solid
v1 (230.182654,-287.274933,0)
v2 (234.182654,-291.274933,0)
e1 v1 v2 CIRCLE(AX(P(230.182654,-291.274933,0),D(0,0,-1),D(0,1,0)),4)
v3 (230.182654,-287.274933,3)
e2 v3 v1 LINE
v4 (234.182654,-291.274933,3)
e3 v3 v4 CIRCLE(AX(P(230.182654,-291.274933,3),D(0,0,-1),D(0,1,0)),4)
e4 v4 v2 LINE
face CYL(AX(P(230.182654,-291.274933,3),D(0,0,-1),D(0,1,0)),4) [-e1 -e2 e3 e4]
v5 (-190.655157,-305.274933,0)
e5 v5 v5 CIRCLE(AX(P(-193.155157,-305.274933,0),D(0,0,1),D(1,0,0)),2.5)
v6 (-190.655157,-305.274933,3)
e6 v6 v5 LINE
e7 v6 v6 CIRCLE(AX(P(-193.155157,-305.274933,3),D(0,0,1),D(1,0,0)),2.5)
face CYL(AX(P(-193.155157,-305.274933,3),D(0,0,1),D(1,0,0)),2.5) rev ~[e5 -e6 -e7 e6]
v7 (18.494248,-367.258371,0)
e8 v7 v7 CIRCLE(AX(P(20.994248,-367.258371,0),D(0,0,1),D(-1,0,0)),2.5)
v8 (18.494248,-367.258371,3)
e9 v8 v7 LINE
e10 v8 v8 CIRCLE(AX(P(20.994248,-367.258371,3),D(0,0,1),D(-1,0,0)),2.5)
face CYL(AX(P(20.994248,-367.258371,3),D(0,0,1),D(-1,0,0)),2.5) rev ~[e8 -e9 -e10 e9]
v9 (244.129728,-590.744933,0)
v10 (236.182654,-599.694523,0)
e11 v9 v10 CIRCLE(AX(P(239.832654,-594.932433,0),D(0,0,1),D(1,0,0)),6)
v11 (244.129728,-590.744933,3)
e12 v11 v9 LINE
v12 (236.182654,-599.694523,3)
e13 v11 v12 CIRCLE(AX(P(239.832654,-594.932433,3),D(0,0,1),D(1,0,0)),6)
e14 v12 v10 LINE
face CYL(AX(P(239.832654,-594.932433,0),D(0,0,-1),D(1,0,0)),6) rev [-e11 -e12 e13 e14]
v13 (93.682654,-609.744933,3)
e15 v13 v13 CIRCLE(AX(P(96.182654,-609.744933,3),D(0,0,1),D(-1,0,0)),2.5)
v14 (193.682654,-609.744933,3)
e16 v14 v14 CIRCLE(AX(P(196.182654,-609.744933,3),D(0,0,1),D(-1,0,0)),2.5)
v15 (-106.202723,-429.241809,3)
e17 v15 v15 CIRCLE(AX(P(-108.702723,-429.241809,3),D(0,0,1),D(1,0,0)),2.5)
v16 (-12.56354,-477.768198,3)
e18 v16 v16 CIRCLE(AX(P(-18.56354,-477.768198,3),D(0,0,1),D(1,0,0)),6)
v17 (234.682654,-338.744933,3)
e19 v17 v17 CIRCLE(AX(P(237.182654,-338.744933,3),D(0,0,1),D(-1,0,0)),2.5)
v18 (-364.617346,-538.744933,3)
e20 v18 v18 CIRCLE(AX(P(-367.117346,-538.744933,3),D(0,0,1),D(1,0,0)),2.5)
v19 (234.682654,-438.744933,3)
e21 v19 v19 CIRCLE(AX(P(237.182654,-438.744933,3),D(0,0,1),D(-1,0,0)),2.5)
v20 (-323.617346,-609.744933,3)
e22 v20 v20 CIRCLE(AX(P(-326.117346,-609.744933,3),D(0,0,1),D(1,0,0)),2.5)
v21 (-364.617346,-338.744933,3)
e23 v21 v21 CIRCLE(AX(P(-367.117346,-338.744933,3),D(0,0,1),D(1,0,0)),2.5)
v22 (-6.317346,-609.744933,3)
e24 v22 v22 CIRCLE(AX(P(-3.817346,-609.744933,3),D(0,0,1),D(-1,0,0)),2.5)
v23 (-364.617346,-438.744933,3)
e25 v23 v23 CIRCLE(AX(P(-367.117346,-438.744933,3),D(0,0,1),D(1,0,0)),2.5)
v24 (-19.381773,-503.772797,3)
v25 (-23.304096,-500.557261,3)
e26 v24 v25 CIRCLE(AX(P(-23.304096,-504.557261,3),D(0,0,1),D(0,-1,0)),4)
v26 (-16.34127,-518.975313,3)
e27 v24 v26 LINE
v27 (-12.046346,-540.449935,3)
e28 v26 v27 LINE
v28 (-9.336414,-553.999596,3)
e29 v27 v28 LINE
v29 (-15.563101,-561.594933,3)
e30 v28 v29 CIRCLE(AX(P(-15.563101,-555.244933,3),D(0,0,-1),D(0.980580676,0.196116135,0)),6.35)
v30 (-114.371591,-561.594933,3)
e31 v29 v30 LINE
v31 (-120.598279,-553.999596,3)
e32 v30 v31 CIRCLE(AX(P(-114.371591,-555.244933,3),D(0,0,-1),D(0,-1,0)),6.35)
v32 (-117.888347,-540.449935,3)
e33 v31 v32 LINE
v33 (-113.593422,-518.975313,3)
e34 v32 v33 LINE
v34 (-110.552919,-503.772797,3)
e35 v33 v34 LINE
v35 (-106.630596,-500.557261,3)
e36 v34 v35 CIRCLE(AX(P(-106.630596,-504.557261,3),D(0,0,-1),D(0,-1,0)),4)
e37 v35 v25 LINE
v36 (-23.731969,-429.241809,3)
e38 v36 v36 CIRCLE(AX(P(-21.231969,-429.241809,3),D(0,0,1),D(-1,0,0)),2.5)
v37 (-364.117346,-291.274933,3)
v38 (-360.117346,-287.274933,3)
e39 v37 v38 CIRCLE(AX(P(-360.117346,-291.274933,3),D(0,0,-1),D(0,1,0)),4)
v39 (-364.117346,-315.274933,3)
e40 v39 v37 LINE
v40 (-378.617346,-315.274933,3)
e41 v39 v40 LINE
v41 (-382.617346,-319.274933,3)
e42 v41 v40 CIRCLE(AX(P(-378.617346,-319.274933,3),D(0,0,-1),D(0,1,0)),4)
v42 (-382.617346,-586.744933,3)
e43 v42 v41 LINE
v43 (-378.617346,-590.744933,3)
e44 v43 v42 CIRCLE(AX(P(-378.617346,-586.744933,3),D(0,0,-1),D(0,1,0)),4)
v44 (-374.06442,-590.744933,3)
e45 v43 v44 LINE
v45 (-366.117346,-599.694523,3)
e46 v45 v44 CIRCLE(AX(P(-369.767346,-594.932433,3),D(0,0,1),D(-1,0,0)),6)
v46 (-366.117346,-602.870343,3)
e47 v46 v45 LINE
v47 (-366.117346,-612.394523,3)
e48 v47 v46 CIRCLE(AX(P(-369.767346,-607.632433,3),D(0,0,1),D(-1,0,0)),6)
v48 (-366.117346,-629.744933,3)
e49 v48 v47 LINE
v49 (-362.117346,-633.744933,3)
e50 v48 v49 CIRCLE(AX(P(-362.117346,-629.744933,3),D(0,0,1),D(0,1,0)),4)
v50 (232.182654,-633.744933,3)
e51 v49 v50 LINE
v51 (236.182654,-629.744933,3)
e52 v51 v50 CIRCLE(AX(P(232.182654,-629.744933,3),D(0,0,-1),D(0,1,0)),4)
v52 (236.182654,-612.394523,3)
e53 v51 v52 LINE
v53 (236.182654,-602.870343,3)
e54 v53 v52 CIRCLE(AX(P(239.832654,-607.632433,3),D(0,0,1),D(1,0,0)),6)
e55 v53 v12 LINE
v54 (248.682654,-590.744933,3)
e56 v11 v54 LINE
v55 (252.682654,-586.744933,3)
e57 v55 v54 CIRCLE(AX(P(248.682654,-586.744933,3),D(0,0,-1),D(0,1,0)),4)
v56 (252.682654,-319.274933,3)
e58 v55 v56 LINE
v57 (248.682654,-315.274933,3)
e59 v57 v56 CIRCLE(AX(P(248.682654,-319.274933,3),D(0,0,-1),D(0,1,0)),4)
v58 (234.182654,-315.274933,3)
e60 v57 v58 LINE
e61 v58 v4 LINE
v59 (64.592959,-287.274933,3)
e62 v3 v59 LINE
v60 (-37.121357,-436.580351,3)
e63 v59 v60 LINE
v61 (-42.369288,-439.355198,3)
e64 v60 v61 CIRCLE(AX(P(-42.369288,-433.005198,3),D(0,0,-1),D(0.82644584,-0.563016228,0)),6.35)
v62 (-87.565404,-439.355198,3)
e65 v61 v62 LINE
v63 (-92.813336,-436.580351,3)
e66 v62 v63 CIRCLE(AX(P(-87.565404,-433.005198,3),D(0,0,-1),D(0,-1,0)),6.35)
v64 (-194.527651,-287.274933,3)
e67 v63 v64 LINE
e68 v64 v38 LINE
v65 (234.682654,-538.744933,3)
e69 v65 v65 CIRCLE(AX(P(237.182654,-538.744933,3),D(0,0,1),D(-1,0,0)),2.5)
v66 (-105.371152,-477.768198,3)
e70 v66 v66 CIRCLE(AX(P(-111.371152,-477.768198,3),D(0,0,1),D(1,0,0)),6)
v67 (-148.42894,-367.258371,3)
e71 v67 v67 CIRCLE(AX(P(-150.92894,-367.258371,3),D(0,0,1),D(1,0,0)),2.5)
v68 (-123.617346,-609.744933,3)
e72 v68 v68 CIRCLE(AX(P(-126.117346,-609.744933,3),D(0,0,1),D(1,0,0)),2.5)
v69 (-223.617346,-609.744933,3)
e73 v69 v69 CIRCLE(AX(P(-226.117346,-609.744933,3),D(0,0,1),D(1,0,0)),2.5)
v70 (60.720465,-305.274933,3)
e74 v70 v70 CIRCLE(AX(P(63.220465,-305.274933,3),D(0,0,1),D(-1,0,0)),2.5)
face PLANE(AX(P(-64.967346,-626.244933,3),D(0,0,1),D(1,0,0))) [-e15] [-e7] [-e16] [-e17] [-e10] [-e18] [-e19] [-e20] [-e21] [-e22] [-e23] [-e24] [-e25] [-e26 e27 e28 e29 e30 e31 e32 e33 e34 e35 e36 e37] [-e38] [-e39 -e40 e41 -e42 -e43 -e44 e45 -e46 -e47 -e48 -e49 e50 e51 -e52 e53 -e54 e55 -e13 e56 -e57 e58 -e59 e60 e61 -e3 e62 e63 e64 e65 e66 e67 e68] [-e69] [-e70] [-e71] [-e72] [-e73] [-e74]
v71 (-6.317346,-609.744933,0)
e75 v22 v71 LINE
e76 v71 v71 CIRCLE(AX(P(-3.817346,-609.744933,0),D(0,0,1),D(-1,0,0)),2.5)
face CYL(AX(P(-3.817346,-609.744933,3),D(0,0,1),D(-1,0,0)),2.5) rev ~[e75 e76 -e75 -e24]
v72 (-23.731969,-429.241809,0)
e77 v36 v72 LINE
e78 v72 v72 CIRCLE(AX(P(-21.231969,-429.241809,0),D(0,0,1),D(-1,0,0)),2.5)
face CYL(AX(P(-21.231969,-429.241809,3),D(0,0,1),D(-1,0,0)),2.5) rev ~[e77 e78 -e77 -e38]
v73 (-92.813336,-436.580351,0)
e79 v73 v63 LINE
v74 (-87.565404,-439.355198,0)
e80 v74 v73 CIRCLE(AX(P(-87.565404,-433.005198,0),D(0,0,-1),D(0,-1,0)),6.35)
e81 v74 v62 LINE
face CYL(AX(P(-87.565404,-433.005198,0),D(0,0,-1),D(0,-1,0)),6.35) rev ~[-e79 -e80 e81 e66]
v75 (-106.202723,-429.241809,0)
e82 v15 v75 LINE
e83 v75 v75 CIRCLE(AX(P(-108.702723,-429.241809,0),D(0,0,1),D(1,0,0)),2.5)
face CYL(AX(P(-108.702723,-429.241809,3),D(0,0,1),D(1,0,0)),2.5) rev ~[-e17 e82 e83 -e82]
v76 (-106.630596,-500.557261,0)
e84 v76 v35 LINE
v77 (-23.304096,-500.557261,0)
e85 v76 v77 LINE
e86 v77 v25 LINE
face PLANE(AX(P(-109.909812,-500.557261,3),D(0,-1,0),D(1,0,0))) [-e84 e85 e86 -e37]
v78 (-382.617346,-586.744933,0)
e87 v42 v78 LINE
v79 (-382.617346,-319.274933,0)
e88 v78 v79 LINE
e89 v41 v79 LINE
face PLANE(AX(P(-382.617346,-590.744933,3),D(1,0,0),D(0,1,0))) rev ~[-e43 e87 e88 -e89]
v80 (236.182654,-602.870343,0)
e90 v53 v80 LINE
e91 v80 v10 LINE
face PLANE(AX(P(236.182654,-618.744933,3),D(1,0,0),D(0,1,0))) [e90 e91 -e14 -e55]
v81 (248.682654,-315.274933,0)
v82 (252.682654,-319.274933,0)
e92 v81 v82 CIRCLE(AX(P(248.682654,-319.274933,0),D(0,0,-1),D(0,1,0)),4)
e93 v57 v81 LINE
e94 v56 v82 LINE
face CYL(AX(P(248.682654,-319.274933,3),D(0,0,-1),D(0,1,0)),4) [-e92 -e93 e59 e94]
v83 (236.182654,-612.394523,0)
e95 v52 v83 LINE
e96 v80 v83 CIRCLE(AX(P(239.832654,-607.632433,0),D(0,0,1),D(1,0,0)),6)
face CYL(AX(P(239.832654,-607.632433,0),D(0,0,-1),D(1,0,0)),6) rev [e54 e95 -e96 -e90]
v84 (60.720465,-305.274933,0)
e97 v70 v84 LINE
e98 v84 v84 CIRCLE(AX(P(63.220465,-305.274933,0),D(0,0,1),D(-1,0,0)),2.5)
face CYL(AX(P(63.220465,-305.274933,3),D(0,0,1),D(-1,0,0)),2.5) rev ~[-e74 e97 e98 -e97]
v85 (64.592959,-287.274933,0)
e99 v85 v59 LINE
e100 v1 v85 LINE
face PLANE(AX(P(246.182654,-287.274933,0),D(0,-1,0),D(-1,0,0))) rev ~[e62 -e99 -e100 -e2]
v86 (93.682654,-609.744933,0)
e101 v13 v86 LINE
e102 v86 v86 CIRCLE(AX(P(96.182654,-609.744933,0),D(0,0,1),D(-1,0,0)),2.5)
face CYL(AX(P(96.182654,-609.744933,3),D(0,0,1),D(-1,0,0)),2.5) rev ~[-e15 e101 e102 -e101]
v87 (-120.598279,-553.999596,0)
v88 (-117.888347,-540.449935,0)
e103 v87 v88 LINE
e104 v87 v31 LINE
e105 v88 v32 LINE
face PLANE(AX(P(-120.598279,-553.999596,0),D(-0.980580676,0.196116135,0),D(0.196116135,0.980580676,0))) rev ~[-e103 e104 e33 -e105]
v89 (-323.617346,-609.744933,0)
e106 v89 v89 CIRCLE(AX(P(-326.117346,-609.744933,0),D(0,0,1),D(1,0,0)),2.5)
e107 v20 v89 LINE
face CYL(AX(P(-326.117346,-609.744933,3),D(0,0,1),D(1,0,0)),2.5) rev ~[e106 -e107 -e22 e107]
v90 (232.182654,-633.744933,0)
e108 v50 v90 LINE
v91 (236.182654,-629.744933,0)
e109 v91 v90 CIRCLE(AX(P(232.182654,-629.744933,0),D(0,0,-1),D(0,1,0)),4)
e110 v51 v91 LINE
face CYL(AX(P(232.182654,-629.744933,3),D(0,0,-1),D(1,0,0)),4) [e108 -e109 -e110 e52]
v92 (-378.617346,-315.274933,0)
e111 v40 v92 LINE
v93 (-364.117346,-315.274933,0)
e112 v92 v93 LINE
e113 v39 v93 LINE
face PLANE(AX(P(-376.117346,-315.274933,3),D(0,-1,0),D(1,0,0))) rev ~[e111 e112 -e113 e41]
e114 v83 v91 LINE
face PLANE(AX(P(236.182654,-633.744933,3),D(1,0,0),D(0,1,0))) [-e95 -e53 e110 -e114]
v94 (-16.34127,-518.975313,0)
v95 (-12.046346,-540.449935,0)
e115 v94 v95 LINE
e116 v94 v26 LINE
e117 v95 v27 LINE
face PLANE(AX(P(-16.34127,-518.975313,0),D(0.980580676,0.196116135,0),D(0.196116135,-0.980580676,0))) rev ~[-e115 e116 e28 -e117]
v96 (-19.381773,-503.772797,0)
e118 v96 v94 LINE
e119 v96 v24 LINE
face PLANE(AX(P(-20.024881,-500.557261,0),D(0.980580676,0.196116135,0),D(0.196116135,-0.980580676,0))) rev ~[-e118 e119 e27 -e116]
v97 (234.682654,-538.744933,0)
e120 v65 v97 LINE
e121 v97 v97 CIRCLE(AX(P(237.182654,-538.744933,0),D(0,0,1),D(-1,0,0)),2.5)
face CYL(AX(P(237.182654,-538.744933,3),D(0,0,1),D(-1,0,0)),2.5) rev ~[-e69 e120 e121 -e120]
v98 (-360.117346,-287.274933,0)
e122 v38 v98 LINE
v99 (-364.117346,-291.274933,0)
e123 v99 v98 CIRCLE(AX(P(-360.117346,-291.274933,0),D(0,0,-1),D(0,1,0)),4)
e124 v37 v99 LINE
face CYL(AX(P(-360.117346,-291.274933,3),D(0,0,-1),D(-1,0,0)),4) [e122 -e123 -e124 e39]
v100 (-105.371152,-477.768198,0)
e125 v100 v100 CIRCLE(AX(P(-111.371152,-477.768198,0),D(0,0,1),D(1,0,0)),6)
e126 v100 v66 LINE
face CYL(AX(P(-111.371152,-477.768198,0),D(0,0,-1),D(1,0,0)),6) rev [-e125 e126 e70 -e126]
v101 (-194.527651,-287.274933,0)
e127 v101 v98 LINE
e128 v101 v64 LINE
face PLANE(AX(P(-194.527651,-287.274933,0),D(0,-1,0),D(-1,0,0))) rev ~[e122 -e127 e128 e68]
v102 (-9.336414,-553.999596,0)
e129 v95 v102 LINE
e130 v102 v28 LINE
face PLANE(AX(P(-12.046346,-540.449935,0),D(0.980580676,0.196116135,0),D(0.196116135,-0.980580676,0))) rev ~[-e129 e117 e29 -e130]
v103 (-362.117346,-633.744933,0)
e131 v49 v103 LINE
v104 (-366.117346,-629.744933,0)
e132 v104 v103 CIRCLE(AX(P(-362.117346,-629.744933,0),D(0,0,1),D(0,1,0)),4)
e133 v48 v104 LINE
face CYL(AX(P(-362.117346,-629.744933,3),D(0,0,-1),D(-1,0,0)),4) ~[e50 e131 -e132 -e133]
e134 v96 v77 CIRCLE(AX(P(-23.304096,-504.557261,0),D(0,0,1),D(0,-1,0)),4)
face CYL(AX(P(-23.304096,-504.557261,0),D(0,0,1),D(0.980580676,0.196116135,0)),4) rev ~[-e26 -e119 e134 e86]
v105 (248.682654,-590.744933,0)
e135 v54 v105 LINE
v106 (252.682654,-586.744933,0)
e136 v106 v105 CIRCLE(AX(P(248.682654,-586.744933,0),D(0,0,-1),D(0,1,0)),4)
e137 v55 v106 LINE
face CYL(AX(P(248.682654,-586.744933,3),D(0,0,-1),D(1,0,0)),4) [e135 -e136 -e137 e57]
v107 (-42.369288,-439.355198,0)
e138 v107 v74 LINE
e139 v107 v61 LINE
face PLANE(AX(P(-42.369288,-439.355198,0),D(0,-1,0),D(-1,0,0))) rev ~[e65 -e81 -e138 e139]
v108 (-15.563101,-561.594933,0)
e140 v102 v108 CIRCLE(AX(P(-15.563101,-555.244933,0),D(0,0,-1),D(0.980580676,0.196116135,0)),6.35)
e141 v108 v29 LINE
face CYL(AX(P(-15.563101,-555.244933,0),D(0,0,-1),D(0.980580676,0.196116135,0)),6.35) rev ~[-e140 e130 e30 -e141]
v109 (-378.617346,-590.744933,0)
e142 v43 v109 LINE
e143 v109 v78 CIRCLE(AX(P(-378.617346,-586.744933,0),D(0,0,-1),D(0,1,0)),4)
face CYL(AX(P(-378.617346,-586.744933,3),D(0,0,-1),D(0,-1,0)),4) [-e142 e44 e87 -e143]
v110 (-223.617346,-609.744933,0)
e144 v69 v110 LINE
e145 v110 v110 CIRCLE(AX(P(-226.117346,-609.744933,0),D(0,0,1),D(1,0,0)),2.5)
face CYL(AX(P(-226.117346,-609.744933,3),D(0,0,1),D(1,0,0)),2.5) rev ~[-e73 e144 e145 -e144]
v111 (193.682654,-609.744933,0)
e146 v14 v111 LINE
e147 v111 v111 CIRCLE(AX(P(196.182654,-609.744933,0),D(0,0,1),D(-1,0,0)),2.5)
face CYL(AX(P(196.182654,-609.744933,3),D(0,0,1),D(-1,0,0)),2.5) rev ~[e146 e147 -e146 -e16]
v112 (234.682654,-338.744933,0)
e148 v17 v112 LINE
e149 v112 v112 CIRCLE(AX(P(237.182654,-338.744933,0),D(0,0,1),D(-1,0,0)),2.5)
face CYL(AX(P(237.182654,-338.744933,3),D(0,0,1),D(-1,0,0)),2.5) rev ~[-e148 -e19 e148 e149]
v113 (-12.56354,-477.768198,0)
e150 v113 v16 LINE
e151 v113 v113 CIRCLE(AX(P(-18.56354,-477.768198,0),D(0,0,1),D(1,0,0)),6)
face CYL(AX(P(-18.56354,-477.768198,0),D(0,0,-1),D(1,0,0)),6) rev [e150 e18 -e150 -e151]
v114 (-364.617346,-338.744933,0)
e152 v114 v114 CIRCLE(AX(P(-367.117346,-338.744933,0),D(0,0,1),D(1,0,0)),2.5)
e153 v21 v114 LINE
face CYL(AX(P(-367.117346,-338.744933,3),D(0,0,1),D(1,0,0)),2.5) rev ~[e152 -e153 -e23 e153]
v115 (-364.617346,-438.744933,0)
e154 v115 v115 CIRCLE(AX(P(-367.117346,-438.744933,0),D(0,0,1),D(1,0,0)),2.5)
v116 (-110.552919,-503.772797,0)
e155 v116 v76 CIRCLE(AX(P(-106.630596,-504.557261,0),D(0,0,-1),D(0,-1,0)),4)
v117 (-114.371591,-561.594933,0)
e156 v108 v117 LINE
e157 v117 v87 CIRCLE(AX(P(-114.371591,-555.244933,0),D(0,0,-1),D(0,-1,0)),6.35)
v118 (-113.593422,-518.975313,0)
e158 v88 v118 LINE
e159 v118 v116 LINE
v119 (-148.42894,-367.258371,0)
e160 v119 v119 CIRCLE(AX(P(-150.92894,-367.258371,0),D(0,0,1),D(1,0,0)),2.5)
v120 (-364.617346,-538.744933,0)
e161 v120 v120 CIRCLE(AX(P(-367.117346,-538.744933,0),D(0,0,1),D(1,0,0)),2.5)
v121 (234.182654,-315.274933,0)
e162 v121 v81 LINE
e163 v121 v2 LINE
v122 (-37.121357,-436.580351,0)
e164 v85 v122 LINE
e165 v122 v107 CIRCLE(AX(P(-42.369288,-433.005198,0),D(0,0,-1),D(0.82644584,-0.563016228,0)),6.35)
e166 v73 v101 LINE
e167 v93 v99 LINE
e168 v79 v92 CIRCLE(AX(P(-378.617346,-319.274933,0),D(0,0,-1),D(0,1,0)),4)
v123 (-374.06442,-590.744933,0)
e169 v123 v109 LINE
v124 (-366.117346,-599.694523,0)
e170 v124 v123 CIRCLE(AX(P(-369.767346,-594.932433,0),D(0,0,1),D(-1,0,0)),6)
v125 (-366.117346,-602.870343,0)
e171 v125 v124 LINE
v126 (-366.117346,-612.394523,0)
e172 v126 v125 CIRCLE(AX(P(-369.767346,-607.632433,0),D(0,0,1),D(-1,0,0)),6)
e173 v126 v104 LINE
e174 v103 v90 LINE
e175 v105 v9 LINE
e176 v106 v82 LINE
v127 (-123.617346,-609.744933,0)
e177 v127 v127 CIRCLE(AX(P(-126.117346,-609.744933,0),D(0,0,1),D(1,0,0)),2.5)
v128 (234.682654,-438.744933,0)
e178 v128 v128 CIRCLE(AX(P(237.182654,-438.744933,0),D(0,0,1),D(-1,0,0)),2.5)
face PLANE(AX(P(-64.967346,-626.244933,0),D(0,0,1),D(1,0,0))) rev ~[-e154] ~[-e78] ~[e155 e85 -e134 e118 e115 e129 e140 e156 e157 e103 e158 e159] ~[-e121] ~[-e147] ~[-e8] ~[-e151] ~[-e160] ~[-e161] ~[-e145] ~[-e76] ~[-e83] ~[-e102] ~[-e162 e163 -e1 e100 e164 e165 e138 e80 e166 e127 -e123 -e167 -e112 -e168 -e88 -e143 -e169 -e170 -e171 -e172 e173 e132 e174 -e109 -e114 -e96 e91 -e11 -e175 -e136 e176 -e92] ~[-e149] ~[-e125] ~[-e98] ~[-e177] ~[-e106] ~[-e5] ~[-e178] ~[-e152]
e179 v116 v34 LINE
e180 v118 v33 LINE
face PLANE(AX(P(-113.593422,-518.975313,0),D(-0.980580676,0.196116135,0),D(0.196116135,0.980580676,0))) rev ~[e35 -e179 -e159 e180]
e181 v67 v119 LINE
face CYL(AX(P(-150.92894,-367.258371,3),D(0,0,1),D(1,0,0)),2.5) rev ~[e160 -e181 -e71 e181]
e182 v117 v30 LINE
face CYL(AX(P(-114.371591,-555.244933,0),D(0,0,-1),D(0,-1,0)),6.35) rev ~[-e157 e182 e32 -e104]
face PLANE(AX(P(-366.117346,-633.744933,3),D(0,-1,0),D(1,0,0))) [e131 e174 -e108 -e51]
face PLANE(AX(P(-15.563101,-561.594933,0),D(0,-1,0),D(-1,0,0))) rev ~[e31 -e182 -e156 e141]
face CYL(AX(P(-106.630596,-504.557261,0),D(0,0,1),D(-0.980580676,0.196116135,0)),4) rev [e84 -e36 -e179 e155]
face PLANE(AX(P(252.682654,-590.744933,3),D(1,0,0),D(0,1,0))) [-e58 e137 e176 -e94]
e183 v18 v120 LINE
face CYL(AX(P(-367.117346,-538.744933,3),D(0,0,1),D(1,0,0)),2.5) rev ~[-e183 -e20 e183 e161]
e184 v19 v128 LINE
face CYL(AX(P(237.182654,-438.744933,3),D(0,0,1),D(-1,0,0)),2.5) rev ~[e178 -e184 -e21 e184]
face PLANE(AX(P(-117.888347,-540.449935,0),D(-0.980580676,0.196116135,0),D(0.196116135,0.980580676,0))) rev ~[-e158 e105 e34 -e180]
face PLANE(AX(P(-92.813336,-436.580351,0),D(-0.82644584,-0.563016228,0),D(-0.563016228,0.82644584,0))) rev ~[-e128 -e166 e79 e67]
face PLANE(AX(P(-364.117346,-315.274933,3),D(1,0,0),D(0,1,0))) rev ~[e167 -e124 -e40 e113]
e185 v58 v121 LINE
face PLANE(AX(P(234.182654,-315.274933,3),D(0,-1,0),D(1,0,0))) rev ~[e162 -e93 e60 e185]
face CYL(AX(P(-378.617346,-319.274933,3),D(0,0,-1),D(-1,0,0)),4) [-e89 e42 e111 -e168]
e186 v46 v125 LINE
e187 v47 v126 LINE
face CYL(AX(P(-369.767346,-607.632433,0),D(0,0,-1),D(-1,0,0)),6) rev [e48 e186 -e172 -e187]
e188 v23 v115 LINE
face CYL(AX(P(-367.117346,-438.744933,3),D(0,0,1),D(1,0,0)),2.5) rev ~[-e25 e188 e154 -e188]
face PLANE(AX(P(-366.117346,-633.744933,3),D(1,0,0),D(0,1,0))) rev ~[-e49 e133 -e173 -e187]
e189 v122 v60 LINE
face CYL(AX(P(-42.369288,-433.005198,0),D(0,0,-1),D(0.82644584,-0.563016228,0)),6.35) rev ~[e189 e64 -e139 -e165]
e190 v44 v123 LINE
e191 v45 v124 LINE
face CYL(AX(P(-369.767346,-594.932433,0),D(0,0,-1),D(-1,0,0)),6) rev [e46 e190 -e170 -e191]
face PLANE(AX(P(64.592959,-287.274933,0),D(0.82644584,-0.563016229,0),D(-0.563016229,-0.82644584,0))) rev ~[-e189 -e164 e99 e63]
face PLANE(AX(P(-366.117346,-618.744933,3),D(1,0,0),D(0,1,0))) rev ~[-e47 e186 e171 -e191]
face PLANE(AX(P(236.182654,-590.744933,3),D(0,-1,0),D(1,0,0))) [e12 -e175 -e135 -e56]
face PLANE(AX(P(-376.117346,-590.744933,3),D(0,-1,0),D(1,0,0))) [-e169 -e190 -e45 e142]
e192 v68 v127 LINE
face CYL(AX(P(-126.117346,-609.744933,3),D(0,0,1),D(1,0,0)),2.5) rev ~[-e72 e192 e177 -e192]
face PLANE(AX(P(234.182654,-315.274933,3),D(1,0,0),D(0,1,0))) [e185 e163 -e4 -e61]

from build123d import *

# Parameters (mm, degrees)
SKETCH_1_R          = 6
EXTRUDE_1_DEPTH     = 3
SKETCH_2_R          = 2.5
SKETCH_2_W          = 12
SKETCH_2_H          = 28
SKETCH_2_W_2        = 10
CUT_EXTRUDE_1_DEPTH = 725.098439741
SKETCH_3_W          = 6.5
SKETCH_3_H          = 275.47
EXTRUDE_2_DEPTH     = 3
SKETCH_4_W          = 602.3
SKETCH_4_H          = 15
EXTRUDE_3_DEPTH     = 3
FILLET_1_R          = 4


with BuildPart() as part:
    # 草图1 → 凸台-拉伸1 (new body)
    with BuildSketch(Plane.XY):
        with BuildLine():
            Line((64.592959067, -287.27493325), (-37.121356584, -436.580350718))
            ThreePointArc((-37.121356584, -436.580350718), (-39.401099826, -438.618784839), (-42.369287668, -439.355197667))
            Line((-42.369287668, -439.355197667), (-87.565404468, -439.355197667))
            ThreePointArc((-87.565404468, -439.355197667), (-90.533592309, -438.618784839), (-92.813335552, -436.580350718))
            Line((-92.813335552, -436.580350718), (-194.527651202, -287.27493325))
            Line((-194.527651202, -287.27493325), (-376.117346068, -287.27493325))
            Line((-376.117346068, -287.27493325), (-376.117346068, -612.39493325))
            ThreePointArc((-376.117346068, -612.39493325), (-374.257474128, -616.885061311), (-369.767346068, -618.74493325))
            Line((-369.767346068, -618.74493325), (239.832653932, -618.74493325))
            ThreePointArc((239.832653932, -618.74493325), (244.322781993, -616.885061311), (246.182653932, -612.39493325))
            Line((246.182653932, -612.39493325), (246.182653932, -287.27493325))
            Line((246.182653932, -287.27493325), (64.592959067, -287.27493325))
        make_face()
        with Locations((-111.371152168, -477.768197584)):
            Circle(SKETCH_1_R, mode=Mode.SUBTRACT)
        with Locations((-18.563539968, -477.768197584)):
            Circle(SKETCH_1_R, mode=Mode.SUBTRACT)
        with Locations((239.832653932, -607.63243325)):
            Circle(SKETCH_1_R, mode=Mode.SUBTRACT)
        with Locations((239.832653932, -594.93243325)):
            Circle(SKETCH_1_R, mode=Mode.SUBTRACT)
        with Locations(Location((-369.767346068, -607.63243325, 0), (0, 0, 180))):
            Circle(SKETCH_1_R, mode=Mode.SUBTRACT)
        with Locations(Location((-369.767346068, -594.93243325, 0), (0, 0, 180))):
            Circle(SKETCH_1_R, mode=Mode.SUBTRACT)
        with BuildLine():
            Line((-120.598278576, -553.999595792), (-117.888346515, -540.449935487))
            Line((-117.888346515, -540.449935487), (-113.593422095, -518.975313388))
            Line((-113.593422095, -518.975313388), (-109.909811627, -500.557261048))
            ThreePointArc((-109.909811627, -500.557261048), (-109.015545442, -498.354731753), (-107.373986867, -496.635390964))
            Line((-107.373986867, -496.635390964), (-68.658208598, -468.981263629))
            ThreePointArc((-68.658208598, -468.981263629), (-64.967346068, -467.798471171), (-61.276483538, -468.981263629))
            Line((-61.276483538, -468.981263629), (-22.560705269, -496.635390964))
            ThreePointArc((-22.560705269, -496.635390964), (-20.919146693, -498.354731753), (-20.024880508, -500.557261048))
            Line((-20.024880508, -500.557261048), (-16.34127004, -518.975313388))
            Line((-16.34127004, -518.975313388), (-12.04634562, -540.449935487))
            Line((-12.04634562, -540.449935487), (-9.336413559, -553.999595792))
            ThreePointArc((-9.336413559, -553.999595792), (-10.652378252, -559.270762801), (-15.56310085, -561.59493325))
            Line((-15.56310085, -561.59493325), (-114.371591285, -561.59493325))
            ThreePointArc((-114.371591285, -561.59493325), (-119.282313883, -559.270762801), (-120.598278576, -553.999595792))
        make_face(mode=Mode.SUBTRACT)
    extrude(amount=EXTRUDE_1_DEPTH)

    # 草图2 → 切除-拉伸1 (cut, through all)
    with BuildSketch(Plane.XY.offset(3)):
        with Locations((-193.155157013, -305.27493325)):
            Circle(SKETCH_2_R)
        with Locations((-108.702722738, -429.24180925)):
            Circle(SKETCH_2_R)
        with Locations((-150.928939875, -367.25837125)):
            Circle(SKETCH_2_R)
        with Locations((-326.117346068, -609.74493325)):
            Circle(SKETCH_2_R)
        with Locations((-367.117346068, -338.74493325)):
            Circle(SKETCH_2_R)
        with Locations((-367.117346068, -538.74493325)):
            Circle(SKETCH_2_R)
        with Locations((-367.117346068, -438.74493325)):
            Circle(SKETCH_2_R)
        with Locations((-126.117346068, -609.74493325)):
            Circle(SKETCH_2_R)
        with Locations((-226.117346068, -609.74493325)):
            Circle(SKETCH_2_R)
        with Locations(Location((-21.231969397, -429.24180925, 0), (0, 0, 180))):
            Circle(SKETCH_2_R)
        with Locations(Location((20.99424774, -367.25837125, 0), (0, 0, 180))):
            Circle(SKETCH_2_R)
        with Locations(Location((63.220464877, -305.27493325, 0), (0, 0, 180))):
            Circle(SKETCH_2_R)
        with Locations(Location((237.182653932, -338.74493325, 0), (0, 0, 180))):
            Circle(SKETCH_2_R)
        with Locations(Location((237.182653932, -438.74493325, 0), (0, 0, 180))):
            Circle(SKETCH_2_R)
        with Locations(Location((237.182653932, -538.74493325, 0), (0, 0, 180))):
            Circle(SKETCH_2_R)
        with Locations(Location((196.182653932, -609.74493325, 0), (0, 0, 180))):
            Circle(SKETCH_2_R)
        with Locations(Location((96.182653932, -609.74493325, 0), (0, 0, 180))):
            Circle(SKETCH_2_R)
        with Locations(Location((-3.817346068, -609.74493325, 0), (0, 0, 180))):
            Circle(SKETCH_2_R)
        with Locations((240.182653932, -301.27493325)):
            Rectangle(SKETCH_2_W, SKETCH_2_H)
        with Locations((-370.117346068, -301.27493325)):
            Rectangle(SKETCH_2_W, SKETCH_2_H)
        with Locations((-371.117346068, -604.74493325)):
            Rectangle(SKETCH_2_W_2, SKETCH_2_H)
        with Locations((241.182653932, -604.74493325)):
            Rectangle(SKETCH_2_W_2, SKETCH_2_H)
    extrude(amount=-CUT_EXTRUDE_1_DEPTH, mode=Mode.SUBTRACT)

    # 草图3 → 凸台-拉伸2 (add)
    with BuildSketch(Plane.XY.offset(3)):
        Polygon((-109.909811627, -500.557261048), (-20.024880508, -500.557261048), (-20.024880508, -490.663105306), (-58.077135265, -460.679906373), (-109.015545442, -490.663105306), align=None)
        with Locations((-379.367346068, -453.00993325)):
            Rectangle(SKETCH_3_W, SKETCH_3_H)
        with Locations((249.432653932, -453.00993325)):
            Rectangle(SKETCH_3_W, SKETCH_3_H)
    extrude(amount=-EXTRUDE_2_DEPTH)

    # 草图4 → 凸台-拉伸3 (add)
    with BuildSketch(Plane.XY.offset(3)):
        with Locations((-64.967346068, -626.24493325)):
            Rectangle(SKETCH_4_W, SKETCH_4_H)
    extrude(amount=-EXTRUDE_3_DEPTH)

    # 圆角1
    fillet_1_edges = [part.edges().sort_by_distance(p)[0] for p in [
        (234.182653932, -287.27493325, 1.5),
        (-364.117346068, -287.27493325, 1.5),
        (252.682653932, -315.27493325, 1.5),
        (252.682653932, -590.74493325, 1.5),
        (-382.617346068, -590.74493325, 1.5),
        (-382.617346068, -315.27493325, 1.5),
        (-366.117346068, -633.74493325, 1.5),
        (236.182653932, -633.74493325, 1.5),
        (-20.024880508, -500.557261048, 1.5),
        (-109.909811627, -500.557261048, 1.5),
    ]]
    fillet(fillet_1_edges, radius=FILLET_1_R)


solid = part.part
